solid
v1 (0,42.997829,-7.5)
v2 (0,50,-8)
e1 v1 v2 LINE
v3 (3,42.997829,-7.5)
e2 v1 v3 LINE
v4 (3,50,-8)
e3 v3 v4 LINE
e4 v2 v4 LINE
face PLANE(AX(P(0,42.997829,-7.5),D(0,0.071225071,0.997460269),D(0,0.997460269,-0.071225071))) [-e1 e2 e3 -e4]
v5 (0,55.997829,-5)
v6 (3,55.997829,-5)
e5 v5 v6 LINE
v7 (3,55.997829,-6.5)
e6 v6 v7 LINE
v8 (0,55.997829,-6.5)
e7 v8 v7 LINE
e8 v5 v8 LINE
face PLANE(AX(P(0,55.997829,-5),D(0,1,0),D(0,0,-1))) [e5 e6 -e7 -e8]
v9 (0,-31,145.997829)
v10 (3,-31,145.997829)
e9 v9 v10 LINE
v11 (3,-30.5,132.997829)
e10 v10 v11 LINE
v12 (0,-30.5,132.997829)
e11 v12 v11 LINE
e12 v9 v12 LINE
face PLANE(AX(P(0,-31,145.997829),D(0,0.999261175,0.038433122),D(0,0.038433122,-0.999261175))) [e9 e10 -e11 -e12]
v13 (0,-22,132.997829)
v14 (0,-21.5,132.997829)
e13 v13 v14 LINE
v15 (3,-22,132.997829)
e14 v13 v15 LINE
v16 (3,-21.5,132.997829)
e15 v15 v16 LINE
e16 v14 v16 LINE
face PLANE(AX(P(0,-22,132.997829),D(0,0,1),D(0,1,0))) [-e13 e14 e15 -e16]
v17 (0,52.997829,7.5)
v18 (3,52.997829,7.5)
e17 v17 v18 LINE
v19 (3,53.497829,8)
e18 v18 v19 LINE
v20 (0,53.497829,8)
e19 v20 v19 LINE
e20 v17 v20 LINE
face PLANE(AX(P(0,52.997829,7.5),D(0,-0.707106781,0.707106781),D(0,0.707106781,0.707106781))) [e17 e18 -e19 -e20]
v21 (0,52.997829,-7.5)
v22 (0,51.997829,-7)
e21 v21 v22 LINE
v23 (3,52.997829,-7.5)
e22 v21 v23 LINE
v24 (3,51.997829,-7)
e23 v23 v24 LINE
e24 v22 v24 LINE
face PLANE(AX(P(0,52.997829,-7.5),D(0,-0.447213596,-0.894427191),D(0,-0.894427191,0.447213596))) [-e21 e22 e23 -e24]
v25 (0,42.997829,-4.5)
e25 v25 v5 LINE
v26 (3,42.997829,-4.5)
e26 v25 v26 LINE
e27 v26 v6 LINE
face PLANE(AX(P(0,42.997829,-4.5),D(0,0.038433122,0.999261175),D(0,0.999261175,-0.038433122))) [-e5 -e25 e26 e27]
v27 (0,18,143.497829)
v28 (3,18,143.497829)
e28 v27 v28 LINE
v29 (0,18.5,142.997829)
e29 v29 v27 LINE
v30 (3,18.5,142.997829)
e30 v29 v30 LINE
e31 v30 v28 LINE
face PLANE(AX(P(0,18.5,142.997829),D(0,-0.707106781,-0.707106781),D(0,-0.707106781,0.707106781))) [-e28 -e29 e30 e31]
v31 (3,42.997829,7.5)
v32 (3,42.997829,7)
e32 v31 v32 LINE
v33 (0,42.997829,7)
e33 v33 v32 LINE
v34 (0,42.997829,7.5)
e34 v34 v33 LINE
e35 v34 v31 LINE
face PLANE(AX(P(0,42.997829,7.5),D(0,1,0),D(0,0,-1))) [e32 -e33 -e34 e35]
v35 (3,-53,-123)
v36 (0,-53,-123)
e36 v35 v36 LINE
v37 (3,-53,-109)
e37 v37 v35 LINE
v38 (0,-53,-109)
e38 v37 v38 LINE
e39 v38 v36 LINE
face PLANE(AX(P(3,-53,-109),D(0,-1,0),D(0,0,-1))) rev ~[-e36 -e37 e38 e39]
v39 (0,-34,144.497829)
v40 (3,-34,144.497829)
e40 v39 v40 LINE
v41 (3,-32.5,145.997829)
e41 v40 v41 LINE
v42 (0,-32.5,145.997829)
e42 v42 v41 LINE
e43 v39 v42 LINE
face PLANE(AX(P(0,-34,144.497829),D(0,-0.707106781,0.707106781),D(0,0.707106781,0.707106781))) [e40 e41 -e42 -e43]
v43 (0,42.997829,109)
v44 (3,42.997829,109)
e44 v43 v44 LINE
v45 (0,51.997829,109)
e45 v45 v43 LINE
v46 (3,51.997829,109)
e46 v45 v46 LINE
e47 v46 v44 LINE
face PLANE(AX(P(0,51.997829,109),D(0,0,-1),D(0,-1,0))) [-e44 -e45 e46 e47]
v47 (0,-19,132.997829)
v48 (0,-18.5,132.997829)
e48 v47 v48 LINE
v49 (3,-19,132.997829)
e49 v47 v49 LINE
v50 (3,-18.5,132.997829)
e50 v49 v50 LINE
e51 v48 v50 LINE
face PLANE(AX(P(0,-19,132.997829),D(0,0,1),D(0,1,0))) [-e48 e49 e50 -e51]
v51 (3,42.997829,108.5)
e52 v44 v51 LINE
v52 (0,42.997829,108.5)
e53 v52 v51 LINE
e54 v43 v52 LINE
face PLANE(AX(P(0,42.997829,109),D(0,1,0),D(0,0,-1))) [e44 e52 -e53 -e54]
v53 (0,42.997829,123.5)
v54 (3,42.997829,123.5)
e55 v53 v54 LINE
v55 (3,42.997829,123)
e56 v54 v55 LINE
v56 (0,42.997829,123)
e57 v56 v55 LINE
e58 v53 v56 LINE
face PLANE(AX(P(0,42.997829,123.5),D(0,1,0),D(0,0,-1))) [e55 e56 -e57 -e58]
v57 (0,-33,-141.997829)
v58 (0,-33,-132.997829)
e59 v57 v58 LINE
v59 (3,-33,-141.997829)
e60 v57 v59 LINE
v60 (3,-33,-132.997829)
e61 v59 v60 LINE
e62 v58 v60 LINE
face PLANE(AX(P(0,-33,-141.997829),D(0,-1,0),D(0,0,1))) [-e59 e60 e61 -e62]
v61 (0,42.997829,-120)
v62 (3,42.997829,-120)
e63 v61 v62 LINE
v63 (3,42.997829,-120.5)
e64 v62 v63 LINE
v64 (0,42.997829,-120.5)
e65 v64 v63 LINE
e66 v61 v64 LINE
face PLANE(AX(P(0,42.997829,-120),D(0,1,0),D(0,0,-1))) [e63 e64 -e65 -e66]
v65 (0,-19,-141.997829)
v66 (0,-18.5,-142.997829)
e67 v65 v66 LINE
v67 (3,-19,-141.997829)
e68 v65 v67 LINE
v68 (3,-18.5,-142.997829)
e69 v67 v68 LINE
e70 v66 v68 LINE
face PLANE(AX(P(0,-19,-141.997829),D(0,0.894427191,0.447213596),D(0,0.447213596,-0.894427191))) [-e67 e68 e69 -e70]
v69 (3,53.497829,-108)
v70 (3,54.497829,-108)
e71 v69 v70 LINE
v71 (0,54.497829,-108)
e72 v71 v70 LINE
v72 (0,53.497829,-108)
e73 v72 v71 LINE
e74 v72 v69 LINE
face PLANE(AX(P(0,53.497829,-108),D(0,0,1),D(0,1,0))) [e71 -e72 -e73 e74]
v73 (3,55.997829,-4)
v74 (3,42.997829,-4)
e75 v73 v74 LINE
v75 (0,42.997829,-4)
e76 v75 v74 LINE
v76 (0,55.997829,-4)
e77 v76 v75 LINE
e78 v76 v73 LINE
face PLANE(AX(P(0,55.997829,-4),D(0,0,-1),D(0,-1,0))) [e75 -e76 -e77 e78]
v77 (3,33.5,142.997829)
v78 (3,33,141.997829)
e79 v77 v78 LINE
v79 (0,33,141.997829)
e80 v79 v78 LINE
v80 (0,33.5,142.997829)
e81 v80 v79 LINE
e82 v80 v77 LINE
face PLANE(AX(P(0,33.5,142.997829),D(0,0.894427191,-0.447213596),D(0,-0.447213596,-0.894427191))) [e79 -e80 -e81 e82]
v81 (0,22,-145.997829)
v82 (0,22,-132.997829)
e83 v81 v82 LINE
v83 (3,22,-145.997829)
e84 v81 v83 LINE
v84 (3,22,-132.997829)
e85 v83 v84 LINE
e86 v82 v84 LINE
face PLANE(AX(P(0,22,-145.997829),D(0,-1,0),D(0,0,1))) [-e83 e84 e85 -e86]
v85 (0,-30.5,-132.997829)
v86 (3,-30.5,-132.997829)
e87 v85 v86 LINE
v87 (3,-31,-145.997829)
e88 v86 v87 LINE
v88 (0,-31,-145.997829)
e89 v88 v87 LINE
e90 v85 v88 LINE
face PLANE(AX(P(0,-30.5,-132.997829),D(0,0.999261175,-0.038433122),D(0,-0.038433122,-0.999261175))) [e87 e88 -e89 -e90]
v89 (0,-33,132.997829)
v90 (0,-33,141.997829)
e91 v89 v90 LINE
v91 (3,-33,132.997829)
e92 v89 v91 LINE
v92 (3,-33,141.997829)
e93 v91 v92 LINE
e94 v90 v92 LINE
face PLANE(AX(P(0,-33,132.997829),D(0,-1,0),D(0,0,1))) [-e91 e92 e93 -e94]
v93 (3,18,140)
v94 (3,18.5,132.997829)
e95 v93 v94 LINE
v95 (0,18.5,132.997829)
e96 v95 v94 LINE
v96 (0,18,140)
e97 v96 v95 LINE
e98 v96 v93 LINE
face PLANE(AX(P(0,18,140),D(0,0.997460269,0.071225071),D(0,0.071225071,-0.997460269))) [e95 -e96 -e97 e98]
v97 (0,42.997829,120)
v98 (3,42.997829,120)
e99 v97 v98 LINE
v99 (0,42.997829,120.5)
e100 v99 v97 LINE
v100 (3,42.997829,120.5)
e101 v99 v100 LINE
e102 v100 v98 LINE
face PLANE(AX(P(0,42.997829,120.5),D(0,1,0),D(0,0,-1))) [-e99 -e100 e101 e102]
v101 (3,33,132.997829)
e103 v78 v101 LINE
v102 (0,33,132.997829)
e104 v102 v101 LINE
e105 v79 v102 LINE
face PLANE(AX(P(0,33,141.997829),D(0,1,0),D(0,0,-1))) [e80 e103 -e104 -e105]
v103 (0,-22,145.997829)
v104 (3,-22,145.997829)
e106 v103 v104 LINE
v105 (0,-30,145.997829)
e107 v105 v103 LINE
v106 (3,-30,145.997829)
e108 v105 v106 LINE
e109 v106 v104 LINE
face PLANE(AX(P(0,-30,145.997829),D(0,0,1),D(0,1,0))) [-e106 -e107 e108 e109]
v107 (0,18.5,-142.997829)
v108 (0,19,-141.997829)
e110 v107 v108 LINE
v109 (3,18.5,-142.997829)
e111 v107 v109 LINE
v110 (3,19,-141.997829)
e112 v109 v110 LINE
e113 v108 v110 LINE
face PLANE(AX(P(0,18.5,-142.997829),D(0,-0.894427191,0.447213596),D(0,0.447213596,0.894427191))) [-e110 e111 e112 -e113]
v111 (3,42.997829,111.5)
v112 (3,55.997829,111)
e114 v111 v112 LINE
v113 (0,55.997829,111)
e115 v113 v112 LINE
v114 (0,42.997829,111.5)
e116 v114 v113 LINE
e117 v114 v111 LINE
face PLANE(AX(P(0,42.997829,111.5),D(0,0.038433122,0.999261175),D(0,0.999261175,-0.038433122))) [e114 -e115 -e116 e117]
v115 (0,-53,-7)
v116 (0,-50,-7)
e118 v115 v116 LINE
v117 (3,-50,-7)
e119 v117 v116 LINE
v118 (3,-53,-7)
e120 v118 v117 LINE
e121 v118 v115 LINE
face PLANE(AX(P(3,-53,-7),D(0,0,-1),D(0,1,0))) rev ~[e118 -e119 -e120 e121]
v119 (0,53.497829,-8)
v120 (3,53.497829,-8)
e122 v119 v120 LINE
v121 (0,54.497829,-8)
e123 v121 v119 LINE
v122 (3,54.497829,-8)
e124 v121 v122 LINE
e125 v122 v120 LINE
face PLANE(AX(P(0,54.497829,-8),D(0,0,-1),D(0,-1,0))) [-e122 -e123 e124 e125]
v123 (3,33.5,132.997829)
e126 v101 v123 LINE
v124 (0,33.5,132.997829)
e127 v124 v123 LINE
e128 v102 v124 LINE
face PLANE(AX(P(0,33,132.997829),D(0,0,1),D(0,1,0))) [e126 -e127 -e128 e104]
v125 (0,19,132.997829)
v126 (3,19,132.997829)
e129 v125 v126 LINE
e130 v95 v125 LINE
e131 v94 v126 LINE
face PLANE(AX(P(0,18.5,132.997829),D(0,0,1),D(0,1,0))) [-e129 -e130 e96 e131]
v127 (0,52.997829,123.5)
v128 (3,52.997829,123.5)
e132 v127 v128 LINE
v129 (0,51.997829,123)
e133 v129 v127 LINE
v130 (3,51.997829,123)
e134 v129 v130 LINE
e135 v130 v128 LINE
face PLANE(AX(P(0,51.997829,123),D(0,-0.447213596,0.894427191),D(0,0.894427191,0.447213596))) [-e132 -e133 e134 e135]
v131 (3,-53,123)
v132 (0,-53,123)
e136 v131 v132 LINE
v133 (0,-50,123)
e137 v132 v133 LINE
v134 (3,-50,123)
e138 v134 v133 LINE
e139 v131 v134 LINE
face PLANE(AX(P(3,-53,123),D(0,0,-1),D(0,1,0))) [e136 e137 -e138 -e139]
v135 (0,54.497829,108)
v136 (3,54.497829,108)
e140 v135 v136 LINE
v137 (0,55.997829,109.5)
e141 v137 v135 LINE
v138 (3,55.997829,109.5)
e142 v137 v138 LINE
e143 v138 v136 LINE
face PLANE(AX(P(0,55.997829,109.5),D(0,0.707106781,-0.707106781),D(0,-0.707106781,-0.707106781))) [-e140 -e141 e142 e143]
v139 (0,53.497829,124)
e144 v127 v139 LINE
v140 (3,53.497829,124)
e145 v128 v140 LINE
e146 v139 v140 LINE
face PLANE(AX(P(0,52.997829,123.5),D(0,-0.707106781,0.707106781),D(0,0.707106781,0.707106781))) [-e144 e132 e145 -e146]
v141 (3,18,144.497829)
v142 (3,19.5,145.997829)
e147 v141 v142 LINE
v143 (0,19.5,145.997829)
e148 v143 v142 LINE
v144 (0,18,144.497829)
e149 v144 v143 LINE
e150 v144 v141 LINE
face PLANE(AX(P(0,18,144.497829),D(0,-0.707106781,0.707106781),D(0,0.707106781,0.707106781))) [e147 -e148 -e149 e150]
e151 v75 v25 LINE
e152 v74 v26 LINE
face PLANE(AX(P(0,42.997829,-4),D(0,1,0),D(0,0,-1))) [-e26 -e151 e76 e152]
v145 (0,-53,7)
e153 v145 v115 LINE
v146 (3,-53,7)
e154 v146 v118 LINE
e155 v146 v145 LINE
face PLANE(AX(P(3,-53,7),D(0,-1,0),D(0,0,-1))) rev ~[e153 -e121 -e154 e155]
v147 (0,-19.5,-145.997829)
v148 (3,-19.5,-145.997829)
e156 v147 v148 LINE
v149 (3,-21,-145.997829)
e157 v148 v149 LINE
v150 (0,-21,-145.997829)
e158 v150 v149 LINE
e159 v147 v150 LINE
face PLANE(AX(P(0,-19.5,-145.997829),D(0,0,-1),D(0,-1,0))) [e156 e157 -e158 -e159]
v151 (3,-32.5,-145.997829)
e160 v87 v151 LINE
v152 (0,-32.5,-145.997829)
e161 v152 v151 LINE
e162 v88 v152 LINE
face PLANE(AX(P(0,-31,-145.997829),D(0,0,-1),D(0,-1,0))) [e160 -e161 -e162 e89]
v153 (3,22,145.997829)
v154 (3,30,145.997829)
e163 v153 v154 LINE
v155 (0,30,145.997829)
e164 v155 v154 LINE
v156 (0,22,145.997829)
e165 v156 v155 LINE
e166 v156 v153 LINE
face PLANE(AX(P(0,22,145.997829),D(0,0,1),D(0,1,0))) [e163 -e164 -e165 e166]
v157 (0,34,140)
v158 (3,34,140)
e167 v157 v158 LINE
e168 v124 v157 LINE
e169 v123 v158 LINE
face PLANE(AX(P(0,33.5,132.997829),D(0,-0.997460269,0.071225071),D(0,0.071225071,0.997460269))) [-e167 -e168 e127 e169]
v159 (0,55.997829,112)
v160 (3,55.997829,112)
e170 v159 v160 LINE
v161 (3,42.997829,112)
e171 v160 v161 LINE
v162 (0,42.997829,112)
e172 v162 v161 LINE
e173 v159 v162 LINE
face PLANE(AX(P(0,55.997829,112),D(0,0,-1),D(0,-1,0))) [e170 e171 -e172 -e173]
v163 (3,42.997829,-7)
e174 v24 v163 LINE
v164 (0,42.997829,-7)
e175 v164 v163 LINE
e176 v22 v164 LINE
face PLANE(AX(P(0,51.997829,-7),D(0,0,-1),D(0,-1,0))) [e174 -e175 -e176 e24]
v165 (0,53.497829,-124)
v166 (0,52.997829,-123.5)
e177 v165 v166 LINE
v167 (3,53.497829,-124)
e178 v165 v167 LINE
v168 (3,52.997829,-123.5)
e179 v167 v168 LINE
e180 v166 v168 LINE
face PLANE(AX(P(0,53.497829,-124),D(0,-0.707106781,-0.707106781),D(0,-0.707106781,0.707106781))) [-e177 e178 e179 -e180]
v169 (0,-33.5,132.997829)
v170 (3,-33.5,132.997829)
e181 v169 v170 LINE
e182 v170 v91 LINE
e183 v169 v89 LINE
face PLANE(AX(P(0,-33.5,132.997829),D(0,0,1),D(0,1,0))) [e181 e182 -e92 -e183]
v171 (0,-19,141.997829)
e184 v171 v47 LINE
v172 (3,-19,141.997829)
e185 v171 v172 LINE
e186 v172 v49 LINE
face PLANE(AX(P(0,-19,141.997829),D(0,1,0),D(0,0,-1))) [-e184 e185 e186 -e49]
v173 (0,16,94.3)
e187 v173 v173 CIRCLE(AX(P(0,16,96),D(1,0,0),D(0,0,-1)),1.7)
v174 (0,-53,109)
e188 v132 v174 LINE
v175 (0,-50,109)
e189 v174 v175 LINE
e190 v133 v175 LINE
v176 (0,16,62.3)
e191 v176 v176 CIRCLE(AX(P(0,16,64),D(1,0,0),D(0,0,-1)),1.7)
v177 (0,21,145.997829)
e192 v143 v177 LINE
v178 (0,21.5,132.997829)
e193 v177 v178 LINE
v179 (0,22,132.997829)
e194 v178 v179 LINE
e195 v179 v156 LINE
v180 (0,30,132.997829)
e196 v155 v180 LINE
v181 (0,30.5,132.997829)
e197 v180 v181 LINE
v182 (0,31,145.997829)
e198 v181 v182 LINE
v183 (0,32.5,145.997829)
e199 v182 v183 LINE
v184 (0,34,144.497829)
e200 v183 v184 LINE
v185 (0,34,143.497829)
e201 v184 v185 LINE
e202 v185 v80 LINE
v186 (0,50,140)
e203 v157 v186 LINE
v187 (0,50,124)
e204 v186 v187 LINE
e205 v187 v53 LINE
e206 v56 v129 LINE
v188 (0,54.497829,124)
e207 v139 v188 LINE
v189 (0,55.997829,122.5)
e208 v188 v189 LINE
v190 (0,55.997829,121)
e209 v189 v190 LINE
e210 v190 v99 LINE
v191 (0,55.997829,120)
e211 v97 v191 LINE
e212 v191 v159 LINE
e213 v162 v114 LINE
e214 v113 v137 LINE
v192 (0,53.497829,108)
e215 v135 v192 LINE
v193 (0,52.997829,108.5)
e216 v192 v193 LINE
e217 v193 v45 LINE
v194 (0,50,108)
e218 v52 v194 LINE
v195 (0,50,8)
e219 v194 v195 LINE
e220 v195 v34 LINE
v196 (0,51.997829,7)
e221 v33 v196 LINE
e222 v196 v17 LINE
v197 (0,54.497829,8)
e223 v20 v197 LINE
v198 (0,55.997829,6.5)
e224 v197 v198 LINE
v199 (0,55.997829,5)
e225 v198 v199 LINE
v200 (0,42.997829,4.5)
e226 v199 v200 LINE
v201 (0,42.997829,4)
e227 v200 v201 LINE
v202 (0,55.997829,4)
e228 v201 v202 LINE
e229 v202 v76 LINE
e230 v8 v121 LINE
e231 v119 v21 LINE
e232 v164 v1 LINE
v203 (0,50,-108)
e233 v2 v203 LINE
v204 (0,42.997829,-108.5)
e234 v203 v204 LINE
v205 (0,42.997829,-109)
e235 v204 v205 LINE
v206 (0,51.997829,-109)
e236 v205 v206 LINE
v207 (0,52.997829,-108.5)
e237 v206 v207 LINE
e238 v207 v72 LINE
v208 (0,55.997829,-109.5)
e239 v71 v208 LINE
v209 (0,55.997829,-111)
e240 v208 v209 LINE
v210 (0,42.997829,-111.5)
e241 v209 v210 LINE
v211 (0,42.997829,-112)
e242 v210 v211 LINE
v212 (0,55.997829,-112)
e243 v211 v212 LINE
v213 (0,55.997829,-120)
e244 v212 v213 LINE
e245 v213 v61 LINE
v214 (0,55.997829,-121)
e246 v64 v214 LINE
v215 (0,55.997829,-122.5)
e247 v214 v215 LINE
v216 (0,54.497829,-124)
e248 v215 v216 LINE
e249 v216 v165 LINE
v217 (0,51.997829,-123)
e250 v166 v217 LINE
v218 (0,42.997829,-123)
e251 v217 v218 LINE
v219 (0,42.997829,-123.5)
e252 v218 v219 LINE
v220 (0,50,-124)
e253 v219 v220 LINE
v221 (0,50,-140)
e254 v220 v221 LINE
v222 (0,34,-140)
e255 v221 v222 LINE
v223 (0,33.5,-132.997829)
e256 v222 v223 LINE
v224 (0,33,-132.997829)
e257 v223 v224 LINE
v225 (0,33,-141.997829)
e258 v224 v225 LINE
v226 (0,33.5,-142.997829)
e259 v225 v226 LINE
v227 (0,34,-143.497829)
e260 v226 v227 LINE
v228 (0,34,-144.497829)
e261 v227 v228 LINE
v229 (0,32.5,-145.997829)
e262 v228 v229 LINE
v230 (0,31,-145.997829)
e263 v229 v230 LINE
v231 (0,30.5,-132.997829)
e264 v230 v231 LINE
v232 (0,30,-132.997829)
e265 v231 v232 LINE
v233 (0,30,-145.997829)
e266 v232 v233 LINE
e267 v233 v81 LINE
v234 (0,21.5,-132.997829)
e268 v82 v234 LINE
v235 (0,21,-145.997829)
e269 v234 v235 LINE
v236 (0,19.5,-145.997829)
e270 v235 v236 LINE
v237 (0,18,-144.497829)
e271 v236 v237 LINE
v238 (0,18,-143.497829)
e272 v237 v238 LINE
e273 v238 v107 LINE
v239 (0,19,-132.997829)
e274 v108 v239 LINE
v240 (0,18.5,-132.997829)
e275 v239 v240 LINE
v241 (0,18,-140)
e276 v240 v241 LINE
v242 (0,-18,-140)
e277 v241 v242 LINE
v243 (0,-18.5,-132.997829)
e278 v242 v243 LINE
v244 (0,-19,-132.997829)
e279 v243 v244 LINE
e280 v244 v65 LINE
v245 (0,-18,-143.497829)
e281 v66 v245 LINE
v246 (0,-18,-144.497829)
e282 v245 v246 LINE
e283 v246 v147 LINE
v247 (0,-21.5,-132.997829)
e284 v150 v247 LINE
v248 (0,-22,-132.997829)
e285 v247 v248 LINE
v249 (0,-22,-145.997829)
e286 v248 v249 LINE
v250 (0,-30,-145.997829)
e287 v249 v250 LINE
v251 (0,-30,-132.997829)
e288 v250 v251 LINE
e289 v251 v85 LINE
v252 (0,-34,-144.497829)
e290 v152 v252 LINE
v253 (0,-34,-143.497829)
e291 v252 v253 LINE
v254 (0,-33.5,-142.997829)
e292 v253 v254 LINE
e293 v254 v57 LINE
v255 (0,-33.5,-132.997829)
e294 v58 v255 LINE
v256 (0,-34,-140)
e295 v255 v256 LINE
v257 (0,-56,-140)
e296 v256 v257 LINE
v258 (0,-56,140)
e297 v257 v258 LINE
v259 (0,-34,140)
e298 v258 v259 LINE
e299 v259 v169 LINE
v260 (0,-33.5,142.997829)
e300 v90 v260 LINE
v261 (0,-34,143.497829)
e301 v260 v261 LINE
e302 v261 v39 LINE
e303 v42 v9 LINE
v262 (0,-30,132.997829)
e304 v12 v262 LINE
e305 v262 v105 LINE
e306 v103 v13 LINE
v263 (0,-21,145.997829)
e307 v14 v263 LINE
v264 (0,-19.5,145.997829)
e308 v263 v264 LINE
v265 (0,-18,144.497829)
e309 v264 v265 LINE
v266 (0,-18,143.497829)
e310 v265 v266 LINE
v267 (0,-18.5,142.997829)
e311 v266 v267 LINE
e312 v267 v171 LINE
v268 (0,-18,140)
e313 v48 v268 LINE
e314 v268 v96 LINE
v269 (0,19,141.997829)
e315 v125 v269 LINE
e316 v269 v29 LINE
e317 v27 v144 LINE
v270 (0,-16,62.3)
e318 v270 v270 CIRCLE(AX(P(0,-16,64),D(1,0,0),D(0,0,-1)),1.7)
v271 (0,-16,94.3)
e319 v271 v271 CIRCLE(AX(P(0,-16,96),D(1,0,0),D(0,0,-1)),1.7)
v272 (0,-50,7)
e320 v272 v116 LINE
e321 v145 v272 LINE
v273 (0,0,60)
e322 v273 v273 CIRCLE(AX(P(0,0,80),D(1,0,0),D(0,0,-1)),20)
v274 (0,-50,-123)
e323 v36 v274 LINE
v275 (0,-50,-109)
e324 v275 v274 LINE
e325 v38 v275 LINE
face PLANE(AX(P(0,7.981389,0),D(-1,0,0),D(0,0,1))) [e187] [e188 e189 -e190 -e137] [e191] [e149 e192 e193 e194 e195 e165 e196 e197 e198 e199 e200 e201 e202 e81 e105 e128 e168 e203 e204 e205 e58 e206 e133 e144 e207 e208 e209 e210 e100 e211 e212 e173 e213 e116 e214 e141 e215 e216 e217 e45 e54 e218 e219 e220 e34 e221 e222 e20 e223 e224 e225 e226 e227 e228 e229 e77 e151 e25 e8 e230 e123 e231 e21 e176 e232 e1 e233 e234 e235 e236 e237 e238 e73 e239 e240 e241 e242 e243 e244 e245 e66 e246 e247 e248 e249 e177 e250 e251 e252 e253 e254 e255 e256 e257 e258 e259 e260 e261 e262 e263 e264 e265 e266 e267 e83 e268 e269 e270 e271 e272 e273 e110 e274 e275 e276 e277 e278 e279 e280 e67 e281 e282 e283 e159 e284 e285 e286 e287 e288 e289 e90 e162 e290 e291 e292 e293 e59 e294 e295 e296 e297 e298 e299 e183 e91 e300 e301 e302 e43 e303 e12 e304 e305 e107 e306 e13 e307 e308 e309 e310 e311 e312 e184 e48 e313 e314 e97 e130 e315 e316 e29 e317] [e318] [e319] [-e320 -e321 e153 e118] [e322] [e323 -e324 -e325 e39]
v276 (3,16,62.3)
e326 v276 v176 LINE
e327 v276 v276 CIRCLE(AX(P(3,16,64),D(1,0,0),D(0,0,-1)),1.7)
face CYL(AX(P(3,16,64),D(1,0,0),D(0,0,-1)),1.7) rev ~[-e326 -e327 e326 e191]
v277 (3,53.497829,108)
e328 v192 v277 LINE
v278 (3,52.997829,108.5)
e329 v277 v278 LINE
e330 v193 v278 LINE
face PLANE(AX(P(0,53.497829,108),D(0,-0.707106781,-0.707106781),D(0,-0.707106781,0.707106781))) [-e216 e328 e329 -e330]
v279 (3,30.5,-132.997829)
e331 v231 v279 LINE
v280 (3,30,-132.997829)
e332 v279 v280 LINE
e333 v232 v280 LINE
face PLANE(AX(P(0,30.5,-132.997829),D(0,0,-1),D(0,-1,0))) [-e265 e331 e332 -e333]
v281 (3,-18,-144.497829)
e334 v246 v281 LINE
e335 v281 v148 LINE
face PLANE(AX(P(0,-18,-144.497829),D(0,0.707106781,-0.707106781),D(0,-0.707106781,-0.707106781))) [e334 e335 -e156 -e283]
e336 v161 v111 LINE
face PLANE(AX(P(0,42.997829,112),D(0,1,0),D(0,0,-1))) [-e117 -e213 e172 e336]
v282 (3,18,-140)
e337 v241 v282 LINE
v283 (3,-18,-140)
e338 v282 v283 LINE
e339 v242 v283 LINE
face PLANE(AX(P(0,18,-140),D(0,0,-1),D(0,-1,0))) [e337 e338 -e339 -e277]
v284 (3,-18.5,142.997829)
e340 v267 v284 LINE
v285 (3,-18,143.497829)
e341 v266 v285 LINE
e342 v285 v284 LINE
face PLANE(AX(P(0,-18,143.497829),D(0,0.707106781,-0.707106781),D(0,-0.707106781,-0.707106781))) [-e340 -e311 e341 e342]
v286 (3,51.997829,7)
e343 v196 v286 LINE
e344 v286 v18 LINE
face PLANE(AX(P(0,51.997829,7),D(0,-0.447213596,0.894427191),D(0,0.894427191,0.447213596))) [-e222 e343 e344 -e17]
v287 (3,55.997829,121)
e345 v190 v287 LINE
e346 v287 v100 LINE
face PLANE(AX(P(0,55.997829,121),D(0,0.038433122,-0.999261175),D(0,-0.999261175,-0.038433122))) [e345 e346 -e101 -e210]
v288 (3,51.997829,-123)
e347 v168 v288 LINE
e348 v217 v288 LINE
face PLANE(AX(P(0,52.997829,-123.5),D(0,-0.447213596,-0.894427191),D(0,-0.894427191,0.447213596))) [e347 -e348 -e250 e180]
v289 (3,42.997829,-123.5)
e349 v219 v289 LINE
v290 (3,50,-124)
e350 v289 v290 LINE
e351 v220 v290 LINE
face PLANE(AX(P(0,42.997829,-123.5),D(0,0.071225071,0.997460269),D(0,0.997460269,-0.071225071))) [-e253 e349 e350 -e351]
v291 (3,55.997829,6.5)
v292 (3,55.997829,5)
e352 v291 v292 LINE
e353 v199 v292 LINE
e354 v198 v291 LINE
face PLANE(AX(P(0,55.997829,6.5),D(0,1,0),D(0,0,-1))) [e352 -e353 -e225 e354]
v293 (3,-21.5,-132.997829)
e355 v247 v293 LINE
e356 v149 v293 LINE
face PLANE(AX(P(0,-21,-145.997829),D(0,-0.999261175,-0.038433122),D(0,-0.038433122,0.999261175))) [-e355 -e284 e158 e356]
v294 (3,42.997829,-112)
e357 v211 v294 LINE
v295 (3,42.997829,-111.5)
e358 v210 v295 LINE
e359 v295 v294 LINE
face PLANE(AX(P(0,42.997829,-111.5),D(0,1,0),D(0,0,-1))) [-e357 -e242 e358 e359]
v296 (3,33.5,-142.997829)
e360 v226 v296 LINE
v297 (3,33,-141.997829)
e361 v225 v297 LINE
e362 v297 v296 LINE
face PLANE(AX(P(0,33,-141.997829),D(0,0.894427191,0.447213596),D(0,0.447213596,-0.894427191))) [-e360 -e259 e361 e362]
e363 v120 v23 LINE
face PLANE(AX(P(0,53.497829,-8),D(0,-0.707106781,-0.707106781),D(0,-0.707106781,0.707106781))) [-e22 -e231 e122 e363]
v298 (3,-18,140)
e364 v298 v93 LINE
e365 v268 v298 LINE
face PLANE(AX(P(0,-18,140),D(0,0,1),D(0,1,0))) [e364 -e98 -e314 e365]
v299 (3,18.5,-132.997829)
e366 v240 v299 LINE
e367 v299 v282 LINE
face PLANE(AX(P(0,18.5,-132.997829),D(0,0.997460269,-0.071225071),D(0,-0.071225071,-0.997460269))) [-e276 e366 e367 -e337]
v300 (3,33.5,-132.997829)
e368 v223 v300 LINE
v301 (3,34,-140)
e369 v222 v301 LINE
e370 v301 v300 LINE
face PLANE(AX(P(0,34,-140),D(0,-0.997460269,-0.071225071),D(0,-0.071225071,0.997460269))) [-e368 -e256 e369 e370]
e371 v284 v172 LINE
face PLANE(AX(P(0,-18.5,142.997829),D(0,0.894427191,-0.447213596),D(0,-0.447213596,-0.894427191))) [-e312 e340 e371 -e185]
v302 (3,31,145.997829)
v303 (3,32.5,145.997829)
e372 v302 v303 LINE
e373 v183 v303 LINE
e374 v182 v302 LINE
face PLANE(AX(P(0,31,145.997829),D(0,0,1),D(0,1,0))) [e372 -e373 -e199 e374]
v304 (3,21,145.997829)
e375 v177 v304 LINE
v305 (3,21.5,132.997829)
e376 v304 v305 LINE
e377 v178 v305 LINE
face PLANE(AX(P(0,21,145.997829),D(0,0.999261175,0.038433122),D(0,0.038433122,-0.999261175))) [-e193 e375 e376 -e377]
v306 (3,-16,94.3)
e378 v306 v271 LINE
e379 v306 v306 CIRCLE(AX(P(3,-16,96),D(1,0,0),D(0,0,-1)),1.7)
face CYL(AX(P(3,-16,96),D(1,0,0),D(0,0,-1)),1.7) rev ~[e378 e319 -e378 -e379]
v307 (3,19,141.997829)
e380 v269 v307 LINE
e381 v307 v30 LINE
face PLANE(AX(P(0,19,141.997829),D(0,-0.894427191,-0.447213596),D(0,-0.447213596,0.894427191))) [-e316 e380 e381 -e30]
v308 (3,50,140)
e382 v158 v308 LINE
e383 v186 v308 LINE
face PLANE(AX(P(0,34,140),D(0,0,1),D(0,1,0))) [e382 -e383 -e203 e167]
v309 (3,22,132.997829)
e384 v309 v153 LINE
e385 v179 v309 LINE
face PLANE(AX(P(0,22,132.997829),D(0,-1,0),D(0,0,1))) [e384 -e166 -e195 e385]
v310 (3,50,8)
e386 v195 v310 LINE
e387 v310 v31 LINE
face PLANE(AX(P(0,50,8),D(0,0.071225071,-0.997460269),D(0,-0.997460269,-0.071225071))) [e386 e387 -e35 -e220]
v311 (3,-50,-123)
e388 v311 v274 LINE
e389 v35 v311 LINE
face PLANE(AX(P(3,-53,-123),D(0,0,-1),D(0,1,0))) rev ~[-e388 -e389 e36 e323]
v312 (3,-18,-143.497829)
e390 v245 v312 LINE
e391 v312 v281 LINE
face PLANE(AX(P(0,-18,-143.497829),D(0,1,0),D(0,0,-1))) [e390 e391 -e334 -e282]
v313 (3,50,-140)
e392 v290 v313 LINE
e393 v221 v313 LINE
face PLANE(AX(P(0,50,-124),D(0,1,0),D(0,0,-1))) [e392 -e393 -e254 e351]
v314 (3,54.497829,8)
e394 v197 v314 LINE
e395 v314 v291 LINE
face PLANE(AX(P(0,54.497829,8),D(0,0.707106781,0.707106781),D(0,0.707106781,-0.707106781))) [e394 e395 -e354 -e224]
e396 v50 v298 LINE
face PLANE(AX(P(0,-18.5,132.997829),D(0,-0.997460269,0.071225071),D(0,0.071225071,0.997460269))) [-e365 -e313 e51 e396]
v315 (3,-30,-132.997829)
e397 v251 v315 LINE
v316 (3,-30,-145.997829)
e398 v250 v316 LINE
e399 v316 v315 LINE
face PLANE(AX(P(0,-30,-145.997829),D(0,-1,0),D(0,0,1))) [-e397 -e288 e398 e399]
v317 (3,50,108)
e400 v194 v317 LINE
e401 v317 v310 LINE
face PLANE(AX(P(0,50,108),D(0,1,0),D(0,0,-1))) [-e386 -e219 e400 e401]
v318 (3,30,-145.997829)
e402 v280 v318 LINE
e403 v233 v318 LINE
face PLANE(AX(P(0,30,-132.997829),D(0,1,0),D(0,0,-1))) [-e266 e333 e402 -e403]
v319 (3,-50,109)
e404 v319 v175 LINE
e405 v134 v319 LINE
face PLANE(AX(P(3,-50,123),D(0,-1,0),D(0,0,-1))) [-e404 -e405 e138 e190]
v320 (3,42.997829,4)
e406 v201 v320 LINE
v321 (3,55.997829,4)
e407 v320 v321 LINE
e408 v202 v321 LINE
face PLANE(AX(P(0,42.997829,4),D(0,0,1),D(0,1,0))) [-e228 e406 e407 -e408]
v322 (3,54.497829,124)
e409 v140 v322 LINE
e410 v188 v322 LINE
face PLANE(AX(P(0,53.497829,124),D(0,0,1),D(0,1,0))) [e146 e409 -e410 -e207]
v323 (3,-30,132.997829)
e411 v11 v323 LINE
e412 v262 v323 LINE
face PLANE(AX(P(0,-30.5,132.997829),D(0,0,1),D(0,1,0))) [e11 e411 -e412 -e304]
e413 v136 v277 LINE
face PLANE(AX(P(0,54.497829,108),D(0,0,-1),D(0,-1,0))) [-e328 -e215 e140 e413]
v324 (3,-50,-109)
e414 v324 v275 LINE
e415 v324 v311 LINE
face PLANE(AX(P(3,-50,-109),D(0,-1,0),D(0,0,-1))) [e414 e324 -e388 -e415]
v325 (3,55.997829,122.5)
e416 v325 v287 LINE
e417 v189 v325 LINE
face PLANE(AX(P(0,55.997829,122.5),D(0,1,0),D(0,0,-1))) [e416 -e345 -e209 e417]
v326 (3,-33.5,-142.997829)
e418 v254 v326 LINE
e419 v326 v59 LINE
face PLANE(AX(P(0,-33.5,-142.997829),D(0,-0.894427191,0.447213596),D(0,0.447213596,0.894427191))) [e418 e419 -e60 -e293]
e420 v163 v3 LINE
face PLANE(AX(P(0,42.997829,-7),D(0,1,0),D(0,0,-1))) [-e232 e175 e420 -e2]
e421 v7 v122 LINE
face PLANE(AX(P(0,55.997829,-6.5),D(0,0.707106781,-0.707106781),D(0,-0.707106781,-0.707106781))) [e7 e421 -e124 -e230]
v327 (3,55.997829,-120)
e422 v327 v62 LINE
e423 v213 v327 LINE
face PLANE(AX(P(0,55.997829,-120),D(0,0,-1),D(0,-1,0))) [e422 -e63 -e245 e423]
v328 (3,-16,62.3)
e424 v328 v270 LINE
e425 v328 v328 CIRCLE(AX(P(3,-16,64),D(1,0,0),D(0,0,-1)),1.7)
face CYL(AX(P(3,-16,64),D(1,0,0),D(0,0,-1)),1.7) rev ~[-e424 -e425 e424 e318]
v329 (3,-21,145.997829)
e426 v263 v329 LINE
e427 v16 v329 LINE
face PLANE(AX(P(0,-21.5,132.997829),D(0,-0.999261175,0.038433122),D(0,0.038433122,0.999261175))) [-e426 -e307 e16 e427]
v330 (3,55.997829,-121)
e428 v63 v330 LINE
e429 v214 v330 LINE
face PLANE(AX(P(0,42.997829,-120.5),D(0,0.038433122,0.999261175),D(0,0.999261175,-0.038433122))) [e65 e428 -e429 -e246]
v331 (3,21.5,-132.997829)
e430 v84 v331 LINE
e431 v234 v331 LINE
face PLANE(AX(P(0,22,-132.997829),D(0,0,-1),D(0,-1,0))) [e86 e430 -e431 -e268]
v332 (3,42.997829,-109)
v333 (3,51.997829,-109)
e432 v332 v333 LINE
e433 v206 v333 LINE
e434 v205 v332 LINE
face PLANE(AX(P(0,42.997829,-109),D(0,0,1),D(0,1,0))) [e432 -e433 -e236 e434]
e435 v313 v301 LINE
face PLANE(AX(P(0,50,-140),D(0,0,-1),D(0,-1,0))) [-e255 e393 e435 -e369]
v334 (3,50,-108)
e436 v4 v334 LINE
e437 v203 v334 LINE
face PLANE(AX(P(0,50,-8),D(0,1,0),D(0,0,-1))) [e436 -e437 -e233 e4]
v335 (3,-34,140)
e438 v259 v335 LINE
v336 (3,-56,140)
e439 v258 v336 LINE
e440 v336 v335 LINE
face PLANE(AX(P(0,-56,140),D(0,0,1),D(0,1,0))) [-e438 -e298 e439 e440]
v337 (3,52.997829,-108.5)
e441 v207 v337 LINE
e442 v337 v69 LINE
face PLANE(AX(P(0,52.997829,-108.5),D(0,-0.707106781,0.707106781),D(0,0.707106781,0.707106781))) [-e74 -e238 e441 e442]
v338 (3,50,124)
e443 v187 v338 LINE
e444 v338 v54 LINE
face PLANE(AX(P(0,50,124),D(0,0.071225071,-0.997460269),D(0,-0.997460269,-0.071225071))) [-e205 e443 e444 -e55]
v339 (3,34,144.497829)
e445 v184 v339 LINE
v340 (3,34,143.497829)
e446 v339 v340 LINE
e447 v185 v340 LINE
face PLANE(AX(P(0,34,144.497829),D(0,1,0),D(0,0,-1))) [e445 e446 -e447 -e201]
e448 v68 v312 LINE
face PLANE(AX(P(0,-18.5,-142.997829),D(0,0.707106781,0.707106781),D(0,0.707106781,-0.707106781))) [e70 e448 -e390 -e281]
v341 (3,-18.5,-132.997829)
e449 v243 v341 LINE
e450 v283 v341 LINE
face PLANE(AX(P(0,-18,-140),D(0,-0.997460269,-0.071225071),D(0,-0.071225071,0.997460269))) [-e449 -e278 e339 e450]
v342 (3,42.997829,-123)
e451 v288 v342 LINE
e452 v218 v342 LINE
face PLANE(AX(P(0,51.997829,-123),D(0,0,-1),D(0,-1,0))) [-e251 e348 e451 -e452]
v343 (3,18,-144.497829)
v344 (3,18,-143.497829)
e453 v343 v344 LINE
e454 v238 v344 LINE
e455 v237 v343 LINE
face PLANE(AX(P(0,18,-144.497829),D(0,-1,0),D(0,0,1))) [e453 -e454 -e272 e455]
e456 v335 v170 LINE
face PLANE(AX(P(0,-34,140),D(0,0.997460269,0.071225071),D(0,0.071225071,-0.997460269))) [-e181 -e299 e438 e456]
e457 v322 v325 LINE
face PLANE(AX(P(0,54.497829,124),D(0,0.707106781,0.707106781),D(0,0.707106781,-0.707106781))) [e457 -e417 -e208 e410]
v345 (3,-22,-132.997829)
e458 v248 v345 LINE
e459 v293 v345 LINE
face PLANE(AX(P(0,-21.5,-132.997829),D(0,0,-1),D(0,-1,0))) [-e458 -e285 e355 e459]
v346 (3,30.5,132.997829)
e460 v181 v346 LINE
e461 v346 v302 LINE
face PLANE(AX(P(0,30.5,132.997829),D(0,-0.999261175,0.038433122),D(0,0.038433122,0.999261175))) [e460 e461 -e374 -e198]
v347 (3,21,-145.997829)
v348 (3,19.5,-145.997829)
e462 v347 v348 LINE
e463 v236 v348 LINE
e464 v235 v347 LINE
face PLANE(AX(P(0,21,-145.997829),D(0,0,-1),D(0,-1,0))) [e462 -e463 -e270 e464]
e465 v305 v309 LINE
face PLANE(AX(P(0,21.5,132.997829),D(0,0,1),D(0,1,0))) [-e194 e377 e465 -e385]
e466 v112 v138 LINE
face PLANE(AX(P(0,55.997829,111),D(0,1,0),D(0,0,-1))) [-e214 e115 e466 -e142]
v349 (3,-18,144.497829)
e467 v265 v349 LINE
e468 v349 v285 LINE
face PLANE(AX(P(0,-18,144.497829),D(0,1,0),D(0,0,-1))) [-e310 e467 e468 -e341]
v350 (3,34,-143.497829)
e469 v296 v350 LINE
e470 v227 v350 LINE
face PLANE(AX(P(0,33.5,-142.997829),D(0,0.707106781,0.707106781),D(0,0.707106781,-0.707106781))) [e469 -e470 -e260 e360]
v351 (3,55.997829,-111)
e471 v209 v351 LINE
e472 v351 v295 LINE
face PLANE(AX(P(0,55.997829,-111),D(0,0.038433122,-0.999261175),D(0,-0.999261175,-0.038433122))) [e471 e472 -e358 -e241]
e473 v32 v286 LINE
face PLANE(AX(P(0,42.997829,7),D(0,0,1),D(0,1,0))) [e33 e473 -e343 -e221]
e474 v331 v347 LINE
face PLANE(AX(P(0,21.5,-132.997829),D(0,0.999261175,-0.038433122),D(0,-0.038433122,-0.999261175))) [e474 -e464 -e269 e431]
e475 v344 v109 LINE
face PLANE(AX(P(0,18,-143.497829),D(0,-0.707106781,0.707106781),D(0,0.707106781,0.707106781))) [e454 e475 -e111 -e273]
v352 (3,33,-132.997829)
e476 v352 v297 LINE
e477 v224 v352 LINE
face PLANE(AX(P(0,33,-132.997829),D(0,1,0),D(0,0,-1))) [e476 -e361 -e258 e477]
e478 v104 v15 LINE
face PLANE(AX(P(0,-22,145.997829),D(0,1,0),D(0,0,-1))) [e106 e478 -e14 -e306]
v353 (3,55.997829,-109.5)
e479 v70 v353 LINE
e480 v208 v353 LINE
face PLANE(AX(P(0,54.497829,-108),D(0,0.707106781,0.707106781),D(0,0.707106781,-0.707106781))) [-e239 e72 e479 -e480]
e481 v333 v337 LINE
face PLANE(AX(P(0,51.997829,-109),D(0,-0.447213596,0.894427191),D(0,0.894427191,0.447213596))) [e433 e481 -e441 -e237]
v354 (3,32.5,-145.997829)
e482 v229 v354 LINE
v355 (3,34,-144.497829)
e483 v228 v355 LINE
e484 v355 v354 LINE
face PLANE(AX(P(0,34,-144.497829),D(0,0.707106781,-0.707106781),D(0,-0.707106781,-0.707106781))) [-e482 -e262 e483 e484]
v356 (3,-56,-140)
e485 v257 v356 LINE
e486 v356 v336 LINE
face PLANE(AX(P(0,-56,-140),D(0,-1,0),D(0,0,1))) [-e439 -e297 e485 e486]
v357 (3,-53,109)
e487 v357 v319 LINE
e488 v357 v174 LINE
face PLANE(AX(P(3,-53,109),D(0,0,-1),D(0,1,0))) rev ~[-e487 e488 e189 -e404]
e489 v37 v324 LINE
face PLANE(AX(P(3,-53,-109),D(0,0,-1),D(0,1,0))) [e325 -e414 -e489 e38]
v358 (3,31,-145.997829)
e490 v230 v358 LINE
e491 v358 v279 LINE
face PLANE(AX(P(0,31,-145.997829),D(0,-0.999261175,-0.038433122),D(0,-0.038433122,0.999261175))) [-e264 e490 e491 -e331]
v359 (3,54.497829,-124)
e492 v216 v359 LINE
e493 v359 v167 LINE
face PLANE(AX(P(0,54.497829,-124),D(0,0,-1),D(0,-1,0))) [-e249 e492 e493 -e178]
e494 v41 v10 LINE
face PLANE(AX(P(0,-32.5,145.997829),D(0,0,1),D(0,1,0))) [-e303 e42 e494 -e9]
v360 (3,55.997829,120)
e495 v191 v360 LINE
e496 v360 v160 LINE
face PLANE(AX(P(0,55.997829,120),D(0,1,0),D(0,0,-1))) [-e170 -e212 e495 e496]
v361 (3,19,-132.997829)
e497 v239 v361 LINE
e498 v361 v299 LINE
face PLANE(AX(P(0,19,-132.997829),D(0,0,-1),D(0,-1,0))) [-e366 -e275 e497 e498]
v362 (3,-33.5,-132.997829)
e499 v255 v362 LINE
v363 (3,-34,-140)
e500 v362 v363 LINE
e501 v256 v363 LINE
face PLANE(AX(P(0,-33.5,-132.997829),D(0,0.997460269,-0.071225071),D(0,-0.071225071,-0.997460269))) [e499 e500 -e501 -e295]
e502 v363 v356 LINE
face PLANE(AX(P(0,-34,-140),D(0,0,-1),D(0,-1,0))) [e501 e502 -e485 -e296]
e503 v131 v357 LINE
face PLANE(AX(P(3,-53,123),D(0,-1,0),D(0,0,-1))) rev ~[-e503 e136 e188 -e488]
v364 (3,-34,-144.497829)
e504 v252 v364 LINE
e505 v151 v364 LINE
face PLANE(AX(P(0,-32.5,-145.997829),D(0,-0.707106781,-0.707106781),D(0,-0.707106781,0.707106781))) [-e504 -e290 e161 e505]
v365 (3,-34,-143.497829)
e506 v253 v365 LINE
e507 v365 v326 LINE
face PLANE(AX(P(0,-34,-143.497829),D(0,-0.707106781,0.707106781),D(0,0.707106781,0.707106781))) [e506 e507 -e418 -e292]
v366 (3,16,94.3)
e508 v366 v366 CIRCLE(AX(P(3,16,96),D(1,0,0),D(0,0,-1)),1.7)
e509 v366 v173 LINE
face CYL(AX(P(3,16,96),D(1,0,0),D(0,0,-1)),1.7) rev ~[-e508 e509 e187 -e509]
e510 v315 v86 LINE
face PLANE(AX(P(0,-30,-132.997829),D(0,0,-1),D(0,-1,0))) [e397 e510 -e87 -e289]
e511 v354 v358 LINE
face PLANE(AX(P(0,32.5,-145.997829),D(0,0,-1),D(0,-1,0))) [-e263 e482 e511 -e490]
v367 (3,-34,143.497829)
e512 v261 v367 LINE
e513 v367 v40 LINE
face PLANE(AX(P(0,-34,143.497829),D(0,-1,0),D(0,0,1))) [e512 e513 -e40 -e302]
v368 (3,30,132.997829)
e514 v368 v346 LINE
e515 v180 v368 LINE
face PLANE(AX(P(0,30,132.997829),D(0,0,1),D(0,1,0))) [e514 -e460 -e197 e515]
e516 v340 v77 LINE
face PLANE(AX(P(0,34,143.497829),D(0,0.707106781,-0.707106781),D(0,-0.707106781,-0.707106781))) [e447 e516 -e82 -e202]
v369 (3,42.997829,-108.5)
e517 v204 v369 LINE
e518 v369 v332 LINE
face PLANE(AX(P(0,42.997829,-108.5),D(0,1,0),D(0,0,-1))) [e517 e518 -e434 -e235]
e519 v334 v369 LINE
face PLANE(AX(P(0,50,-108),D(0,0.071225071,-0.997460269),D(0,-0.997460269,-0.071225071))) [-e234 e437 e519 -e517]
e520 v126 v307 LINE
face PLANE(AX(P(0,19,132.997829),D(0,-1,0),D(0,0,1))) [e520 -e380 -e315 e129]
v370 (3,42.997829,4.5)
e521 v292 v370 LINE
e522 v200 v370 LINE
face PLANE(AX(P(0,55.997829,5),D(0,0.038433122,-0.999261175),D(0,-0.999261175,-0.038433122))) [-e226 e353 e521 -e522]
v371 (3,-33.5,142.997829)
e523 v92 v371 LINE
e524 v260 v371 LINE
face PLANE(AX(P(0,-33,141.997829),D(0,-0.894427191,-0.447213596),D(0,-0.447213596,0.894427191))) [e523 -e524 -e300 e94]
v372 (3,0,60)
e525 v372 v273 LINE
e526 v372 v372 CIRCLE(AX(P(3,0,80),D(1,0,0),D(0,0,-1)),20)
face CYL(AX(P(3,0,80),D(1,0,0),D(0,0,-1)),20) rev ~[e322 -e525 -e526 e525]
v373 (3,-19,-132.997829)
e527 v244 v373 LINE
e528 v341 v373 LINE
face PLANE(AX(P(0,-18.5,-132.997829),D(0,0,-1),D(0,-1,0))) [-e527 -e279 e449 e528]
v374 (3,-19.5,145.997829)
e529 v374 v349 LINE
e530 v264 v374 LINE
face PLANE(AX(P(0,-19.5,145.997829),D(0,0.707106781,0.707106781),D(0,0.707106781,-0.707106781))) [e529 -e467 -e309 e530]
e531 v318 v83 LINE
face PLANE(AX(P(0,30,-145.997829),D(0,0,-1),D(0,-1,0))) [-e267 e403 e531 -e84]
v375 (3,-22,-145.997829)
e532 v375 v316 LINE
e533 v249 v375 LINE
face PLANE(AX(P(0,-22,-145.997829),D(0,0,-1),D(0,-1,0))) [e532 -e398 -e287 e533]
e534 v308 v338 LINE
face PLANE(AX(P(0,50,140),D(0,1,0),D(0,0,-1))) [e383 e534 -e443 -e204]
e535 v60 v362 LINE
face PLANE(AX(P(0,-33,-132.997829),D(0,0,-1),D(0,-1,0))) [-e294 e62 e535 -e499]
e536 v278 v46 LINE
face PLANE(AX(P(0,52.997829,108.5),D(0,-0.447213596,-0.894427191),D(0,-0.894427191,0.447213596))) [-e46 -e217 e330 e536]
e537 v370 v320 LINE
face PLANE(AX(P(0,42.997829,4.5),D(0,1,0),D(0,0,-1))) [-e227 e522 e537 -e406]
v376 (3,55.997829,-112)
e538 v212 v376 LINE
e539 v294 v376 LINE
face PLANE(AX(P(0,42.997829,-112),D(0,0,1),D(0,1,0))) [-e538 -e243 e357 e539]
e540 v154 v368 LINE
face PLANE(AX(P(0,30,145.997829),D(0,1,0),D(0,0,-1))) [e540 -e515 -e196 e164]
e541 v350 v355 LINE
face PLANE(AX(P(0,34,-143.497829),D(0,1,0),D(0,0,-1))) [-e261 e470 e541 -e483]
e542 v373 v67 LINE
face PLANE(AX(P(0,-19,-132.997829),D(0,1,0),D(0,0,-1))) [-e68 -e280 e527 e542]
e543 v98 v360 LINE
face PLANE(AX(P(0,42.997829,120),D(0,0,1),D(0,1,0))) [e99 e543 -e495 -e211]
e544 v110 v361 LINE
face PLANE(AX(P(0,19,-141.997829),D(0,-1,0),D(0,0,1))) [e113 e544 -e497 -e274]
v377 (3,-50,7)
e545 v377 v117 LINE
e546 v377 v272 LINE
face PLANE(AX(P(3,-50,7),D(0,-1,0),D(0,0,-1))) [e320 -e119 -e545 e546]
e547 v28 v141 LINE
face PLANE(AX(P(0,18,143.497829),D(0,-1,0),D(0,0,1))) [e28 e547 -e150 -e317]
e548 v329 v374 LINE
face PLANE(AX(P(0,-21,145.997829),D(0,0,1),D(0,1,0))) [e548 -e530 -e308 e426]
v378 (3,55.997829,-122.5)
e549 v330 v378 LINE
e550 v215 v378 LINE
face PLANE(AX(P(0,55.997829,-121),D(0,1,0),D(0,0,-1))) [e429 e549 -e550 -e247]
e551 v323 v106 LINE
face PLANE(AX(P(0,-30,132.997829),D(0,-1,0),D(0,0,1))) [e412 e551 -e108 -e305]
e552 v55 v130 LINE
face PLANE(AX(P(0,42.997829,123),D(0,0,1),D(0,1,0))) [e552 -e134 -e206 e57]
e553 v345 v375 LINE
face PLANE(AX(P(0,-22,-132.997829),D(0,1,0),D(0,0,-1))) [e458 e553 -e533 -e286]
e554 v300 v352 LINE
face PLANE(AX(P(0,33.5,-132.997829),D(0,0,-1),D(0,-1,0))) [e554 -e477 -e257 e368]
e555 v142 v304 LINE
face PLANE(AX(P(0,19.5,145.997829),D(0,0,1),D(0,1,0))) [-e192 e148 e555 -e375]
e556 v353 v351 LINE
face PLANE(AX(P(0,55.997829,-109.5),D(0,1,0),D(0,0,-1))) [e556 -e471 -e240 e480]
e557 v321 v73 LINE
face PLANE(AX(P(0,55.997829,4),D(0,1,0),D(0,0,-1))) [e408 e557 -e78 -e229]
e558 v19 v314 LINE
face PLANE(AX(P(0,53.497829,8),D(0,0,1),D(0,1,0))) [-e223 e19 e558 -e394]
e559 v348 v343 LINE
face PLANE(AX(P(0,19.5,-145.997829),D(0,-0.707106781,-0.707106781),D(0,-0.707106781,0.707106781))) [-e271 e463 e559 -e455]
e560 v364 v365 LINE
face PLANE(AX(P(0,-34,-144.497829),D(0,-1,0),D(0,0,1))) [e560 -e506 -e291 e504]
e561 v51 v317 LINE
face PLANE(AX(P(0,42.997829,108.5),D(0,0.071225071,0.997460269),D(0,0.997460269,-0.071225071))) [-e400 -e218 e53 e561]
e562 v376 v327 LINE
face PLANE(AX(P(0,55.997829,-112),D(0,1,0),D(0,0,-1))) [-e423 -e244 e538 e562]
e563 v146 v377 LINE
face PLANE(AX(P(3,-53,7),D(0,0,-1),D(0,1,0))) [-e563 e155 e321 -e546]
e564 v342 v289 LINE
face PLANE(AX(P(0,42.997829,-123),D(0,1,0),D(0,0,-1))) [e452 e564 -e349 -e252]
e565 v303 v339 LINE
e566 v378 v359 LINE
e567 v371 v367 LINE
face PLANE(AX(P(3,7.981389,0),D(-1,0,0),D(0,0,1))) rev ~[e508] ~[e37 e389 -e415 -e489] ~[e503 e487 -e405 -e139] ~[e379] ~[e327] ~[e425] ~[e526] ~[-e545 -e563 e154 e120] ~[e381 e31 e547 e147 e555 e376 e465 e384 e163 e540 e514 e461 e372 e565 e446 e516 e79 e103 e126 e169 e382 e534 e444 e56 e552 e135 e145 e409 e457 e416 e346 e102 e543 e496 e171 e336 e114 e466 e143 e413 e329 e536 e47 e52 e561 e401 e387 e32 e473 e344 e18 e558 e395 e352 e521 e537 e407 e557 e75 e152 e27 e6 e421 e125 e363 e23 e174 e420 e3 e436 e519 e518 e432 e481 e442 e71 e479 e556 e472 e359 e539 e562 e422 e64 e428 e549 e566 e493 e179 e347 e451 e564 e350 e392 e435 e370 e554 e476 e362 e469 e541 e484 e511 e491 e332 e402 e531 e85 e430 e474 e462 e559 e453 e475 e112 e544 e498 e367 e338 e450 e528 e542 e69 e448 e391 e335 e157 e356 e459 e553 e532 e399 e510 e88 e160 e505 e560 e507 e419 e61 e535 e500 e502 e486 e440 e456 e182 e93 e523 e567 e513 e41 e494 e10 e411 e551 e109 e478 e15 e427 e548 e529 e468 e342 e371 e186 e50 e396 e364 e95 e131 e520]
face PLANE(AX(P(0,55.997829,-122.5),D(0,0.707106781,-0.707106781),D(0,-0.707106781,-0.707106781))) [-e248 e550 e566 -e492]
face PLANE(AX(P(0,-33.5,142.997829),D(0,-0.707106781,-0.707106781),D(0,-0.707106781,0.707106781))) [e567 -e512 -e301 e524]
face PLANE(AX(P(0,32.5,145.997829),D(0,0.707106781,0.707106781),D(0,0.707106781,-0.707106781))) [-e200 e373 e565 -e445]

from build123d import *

# Parameters (mm, degrees)
BOSS_EXTRUDE1_DEPTH = 3
SKETCH3_W           = 14
SKETCH3_H           = 3
CUT_EXTRUDE1_DEPTH  = 3
SKETCH7_R           = 20
CUT_EXTRUDE2_DEPTH  = 3
SKETCH9_R           = 1.7
CUT_EXTRUDE3_DEPTH  = 3


with BuildPart() as part:
    # Sketch1 → Boss-Extrude1 (new body)
    with BuildSketch(Plane(origin=(0, 0, 0), x_dir=(0, 0, -1), z_dir=(1, 0, 0))):
        Polygon((-140, 34), (-140, 50), (-124, 50), (-123.5, 42.997828908), (-123, 42.997828908), (-123, 51.997828908), (-123.5, 52.997828908), (-124, 53.497828908), (-124, 54.497828908), (-122.5, 55.997828908), (-121, 55.997828908), (-120.5, 42.997828908), (-120, 42.997828908), (-120, 55.997828908), (-112, 55.997828908), (-112, 42.997828908), (-111.5, 42.997828908), (-111, 55.997828908), (-109.5, 55.997828908), (-108, 54.497828908), (-108, 53.497828908), (-108.5, 52.997828908), (-109, 51.997828908), (-109, 42.997828908), (-108.5, 42.997828908), (-108, 50), (-8, 50), (-7.5, 42.997828908), (-7, 42.997828908), (-7, 51.997828908), (-7.5, 52.997828908), (-8, 53.497828908), (-8, 54.497828908), (-6.5, 55.997828908), (-5, 55.997828908), (-4.5, 42.997828908), (-4, 42.997828908), (-4, 55.997828908), (4, 55.997828908), (4, 42.997828908), (4.5, 42.997828908), (5, 55.997828908), (6.5, 55.997828908), (8, 54.497828908), (8, 53.497828908), (7.5, 52.997828908), (7, 51.997828908), (7, 42.997828908), (7.5, 42.997828908), (8, 50), (108, 50), (108.5, 42.997828908), (109, 42.997828908), (109, 51.997828908), (108.5, 52.997828908), (108, 53.497828908), (108, 54.497828908), (109.5, 55.997828908), (111, 55.997828908), (111.5, 42.997828908), (112, 42.997828908), (112, 55.997828908), (120, 55.997828908), (120, 42.997828908), (120.5, 42.997828908), (121, 55.997828908), (122.5, 55.997828908), (124, 54.497828908), (124, 53.497828908), (123.5, 52.997828908), (123, 51.997828908), (123, 42.997828908), (123.5, 42.997828908), (124, 50), (140, 50), (140, 34), (132.997828908, 33.5), (132.997828908, 33), (141.997828908, 33), (142.997828908, 33.5), (143.497828908, 34), (144.497828908, 34), (145.997828908, 32.5), (145.997828908, 31), (132.997828908, 30.5), (132.997828908, 30), (145.997828908, 30), (145.997828908, 22), (132.997828908, 22), (132.997828908, 21.5), (145.997828908, 21), (145.997828908, 19.5), (144.497828908, 18), (143.497828908, 18), (142.997828908, 18.5), (141.997828908, 19), (132.997828908, 19), (132.997828908, 18.5), (140, 18), (140, -18), (132.997828908, -18.5), (132.997828908, -19), (141.997828908, -19), (142.997828908, -18.5), (143.497828908, -18), (144.497828908, -18), (145.997828908, -19.5), (145.997828908, -21), (132.997828908, -21.5), (132.997828908, -22), (145.997828908, -22), (145.997828908, -30), (132.997828908, -30), (132.997828908, -30.5), (145.997828908, -31), (145.997828908, -32.5), (144.497828908, -34), (143.497828908, -34), (142.997828908, -33.5), (141.997828908, -33), (132.997828908, -33), (132.997828908, -33.5), (140, -34), (140, -56), (-140, -56), (-140, -34), (-132.997828908, -33.5), (-132.997828908, -33), (-141.997828908, -33), (-142.997828908, -33.5), (-143.497828908, -34), (-144.497828908, -34), (-145.997828908, -32.5), (-145.997828908, -31), (-132.997828908, -30.5), (-132.997828908, -30), (-145.997828908, -30), (-145.997828908, -22), (-132.997828908, -22), (-132.997828908, -21.5), (-145.997828908, -21), (-145.997828908, -19.5), (-144.497828908, -18), (-143.497828908, -18), (-142.997828908, -18.5), (-141.997828908, -19), (-132.997828908, -19), (-132.997828908, -18.5), (-140, -18), (-140, 18), (-132.997828908, 18.5), (-132.997828908, 19), (-141.997828908, 19), (-142.997828908, 18.5), (-143.497828908, 18), (-144.497828908, 18), (-145.997828908, 19.5), (-145.997828908, 21), (-132.997828908, 21.5), (-132.997828908, 22), (-145.997828908, 22), (-145.997828908, 30), (-132.997828908, 30), (-132.997828908, 30.5), (-145.997828908, 31), (-145.997828908, 32.5), (-144.497828908, 34), (-143.497828908, 34), (-142.997828908, 33.5), (-141.997828908, 33), (-132.997828908, 33), (-132.997828908, 33.5), align=None)
    extrude(amount=BOSS_EXTRUDE1_DEPTH)

    # Sketch3 → Cut-Extrude1 (cut)
    with BuildSketch(Plane(origin=(3, 0, 0), x_dir=(0, 0, -1), z_dir=(1, 0, 0))):
        with Locations((-116, -51.5)):
            Rectangle(SKETCH3_W, SKETCH3_H)
        with Locations((0, -51.5)):
            Rectangle(SKETCH3_W, SKETCH3_H)
        with Locations((116, -51.5)):
            Rectangle(SKETCH3_W, SKETCH3_H)
    extrude(amount=-CUT_EXTRUDE1_DEPTH, mode=Mode.SUBTRACT)

    # Sketch7 → Cut-Extrude2 (cut)
    with BuildSketch(Plane(origin=(3, 0, 0), x_dir=(0, 0, -1), z_dir=(1, 0, 0))):
        with Locations((-80, 0)):
            Circle(SKETCH7_R)
    extrude(amount=-CUT_EXTRUDE2_DEPTH, mode=Mode.SUBTRACT)

    # Sketch9 → Cut-Extrude3 (cut)
    with BuildSketch(Plane(origin=(3, 0, 0), x_dir=(0, 0, -1), z_dir=(1, 0, 0))):
        with Locations((-96, 16)):
            Circle(SKETCH9_R)
        with Locations((-64, 16)):
            Circle(SKETCH9_R)
        with Locations((-64, -16)):
            Circle(SKETCH9_R)
        with Locations((-96, -16)):
            Circle(SKETCH9_R)
    extrude(amount=-CUT_EXTRUDE3_DEPTH, mode=Mode.SUBTRACT)


solid = part.part
